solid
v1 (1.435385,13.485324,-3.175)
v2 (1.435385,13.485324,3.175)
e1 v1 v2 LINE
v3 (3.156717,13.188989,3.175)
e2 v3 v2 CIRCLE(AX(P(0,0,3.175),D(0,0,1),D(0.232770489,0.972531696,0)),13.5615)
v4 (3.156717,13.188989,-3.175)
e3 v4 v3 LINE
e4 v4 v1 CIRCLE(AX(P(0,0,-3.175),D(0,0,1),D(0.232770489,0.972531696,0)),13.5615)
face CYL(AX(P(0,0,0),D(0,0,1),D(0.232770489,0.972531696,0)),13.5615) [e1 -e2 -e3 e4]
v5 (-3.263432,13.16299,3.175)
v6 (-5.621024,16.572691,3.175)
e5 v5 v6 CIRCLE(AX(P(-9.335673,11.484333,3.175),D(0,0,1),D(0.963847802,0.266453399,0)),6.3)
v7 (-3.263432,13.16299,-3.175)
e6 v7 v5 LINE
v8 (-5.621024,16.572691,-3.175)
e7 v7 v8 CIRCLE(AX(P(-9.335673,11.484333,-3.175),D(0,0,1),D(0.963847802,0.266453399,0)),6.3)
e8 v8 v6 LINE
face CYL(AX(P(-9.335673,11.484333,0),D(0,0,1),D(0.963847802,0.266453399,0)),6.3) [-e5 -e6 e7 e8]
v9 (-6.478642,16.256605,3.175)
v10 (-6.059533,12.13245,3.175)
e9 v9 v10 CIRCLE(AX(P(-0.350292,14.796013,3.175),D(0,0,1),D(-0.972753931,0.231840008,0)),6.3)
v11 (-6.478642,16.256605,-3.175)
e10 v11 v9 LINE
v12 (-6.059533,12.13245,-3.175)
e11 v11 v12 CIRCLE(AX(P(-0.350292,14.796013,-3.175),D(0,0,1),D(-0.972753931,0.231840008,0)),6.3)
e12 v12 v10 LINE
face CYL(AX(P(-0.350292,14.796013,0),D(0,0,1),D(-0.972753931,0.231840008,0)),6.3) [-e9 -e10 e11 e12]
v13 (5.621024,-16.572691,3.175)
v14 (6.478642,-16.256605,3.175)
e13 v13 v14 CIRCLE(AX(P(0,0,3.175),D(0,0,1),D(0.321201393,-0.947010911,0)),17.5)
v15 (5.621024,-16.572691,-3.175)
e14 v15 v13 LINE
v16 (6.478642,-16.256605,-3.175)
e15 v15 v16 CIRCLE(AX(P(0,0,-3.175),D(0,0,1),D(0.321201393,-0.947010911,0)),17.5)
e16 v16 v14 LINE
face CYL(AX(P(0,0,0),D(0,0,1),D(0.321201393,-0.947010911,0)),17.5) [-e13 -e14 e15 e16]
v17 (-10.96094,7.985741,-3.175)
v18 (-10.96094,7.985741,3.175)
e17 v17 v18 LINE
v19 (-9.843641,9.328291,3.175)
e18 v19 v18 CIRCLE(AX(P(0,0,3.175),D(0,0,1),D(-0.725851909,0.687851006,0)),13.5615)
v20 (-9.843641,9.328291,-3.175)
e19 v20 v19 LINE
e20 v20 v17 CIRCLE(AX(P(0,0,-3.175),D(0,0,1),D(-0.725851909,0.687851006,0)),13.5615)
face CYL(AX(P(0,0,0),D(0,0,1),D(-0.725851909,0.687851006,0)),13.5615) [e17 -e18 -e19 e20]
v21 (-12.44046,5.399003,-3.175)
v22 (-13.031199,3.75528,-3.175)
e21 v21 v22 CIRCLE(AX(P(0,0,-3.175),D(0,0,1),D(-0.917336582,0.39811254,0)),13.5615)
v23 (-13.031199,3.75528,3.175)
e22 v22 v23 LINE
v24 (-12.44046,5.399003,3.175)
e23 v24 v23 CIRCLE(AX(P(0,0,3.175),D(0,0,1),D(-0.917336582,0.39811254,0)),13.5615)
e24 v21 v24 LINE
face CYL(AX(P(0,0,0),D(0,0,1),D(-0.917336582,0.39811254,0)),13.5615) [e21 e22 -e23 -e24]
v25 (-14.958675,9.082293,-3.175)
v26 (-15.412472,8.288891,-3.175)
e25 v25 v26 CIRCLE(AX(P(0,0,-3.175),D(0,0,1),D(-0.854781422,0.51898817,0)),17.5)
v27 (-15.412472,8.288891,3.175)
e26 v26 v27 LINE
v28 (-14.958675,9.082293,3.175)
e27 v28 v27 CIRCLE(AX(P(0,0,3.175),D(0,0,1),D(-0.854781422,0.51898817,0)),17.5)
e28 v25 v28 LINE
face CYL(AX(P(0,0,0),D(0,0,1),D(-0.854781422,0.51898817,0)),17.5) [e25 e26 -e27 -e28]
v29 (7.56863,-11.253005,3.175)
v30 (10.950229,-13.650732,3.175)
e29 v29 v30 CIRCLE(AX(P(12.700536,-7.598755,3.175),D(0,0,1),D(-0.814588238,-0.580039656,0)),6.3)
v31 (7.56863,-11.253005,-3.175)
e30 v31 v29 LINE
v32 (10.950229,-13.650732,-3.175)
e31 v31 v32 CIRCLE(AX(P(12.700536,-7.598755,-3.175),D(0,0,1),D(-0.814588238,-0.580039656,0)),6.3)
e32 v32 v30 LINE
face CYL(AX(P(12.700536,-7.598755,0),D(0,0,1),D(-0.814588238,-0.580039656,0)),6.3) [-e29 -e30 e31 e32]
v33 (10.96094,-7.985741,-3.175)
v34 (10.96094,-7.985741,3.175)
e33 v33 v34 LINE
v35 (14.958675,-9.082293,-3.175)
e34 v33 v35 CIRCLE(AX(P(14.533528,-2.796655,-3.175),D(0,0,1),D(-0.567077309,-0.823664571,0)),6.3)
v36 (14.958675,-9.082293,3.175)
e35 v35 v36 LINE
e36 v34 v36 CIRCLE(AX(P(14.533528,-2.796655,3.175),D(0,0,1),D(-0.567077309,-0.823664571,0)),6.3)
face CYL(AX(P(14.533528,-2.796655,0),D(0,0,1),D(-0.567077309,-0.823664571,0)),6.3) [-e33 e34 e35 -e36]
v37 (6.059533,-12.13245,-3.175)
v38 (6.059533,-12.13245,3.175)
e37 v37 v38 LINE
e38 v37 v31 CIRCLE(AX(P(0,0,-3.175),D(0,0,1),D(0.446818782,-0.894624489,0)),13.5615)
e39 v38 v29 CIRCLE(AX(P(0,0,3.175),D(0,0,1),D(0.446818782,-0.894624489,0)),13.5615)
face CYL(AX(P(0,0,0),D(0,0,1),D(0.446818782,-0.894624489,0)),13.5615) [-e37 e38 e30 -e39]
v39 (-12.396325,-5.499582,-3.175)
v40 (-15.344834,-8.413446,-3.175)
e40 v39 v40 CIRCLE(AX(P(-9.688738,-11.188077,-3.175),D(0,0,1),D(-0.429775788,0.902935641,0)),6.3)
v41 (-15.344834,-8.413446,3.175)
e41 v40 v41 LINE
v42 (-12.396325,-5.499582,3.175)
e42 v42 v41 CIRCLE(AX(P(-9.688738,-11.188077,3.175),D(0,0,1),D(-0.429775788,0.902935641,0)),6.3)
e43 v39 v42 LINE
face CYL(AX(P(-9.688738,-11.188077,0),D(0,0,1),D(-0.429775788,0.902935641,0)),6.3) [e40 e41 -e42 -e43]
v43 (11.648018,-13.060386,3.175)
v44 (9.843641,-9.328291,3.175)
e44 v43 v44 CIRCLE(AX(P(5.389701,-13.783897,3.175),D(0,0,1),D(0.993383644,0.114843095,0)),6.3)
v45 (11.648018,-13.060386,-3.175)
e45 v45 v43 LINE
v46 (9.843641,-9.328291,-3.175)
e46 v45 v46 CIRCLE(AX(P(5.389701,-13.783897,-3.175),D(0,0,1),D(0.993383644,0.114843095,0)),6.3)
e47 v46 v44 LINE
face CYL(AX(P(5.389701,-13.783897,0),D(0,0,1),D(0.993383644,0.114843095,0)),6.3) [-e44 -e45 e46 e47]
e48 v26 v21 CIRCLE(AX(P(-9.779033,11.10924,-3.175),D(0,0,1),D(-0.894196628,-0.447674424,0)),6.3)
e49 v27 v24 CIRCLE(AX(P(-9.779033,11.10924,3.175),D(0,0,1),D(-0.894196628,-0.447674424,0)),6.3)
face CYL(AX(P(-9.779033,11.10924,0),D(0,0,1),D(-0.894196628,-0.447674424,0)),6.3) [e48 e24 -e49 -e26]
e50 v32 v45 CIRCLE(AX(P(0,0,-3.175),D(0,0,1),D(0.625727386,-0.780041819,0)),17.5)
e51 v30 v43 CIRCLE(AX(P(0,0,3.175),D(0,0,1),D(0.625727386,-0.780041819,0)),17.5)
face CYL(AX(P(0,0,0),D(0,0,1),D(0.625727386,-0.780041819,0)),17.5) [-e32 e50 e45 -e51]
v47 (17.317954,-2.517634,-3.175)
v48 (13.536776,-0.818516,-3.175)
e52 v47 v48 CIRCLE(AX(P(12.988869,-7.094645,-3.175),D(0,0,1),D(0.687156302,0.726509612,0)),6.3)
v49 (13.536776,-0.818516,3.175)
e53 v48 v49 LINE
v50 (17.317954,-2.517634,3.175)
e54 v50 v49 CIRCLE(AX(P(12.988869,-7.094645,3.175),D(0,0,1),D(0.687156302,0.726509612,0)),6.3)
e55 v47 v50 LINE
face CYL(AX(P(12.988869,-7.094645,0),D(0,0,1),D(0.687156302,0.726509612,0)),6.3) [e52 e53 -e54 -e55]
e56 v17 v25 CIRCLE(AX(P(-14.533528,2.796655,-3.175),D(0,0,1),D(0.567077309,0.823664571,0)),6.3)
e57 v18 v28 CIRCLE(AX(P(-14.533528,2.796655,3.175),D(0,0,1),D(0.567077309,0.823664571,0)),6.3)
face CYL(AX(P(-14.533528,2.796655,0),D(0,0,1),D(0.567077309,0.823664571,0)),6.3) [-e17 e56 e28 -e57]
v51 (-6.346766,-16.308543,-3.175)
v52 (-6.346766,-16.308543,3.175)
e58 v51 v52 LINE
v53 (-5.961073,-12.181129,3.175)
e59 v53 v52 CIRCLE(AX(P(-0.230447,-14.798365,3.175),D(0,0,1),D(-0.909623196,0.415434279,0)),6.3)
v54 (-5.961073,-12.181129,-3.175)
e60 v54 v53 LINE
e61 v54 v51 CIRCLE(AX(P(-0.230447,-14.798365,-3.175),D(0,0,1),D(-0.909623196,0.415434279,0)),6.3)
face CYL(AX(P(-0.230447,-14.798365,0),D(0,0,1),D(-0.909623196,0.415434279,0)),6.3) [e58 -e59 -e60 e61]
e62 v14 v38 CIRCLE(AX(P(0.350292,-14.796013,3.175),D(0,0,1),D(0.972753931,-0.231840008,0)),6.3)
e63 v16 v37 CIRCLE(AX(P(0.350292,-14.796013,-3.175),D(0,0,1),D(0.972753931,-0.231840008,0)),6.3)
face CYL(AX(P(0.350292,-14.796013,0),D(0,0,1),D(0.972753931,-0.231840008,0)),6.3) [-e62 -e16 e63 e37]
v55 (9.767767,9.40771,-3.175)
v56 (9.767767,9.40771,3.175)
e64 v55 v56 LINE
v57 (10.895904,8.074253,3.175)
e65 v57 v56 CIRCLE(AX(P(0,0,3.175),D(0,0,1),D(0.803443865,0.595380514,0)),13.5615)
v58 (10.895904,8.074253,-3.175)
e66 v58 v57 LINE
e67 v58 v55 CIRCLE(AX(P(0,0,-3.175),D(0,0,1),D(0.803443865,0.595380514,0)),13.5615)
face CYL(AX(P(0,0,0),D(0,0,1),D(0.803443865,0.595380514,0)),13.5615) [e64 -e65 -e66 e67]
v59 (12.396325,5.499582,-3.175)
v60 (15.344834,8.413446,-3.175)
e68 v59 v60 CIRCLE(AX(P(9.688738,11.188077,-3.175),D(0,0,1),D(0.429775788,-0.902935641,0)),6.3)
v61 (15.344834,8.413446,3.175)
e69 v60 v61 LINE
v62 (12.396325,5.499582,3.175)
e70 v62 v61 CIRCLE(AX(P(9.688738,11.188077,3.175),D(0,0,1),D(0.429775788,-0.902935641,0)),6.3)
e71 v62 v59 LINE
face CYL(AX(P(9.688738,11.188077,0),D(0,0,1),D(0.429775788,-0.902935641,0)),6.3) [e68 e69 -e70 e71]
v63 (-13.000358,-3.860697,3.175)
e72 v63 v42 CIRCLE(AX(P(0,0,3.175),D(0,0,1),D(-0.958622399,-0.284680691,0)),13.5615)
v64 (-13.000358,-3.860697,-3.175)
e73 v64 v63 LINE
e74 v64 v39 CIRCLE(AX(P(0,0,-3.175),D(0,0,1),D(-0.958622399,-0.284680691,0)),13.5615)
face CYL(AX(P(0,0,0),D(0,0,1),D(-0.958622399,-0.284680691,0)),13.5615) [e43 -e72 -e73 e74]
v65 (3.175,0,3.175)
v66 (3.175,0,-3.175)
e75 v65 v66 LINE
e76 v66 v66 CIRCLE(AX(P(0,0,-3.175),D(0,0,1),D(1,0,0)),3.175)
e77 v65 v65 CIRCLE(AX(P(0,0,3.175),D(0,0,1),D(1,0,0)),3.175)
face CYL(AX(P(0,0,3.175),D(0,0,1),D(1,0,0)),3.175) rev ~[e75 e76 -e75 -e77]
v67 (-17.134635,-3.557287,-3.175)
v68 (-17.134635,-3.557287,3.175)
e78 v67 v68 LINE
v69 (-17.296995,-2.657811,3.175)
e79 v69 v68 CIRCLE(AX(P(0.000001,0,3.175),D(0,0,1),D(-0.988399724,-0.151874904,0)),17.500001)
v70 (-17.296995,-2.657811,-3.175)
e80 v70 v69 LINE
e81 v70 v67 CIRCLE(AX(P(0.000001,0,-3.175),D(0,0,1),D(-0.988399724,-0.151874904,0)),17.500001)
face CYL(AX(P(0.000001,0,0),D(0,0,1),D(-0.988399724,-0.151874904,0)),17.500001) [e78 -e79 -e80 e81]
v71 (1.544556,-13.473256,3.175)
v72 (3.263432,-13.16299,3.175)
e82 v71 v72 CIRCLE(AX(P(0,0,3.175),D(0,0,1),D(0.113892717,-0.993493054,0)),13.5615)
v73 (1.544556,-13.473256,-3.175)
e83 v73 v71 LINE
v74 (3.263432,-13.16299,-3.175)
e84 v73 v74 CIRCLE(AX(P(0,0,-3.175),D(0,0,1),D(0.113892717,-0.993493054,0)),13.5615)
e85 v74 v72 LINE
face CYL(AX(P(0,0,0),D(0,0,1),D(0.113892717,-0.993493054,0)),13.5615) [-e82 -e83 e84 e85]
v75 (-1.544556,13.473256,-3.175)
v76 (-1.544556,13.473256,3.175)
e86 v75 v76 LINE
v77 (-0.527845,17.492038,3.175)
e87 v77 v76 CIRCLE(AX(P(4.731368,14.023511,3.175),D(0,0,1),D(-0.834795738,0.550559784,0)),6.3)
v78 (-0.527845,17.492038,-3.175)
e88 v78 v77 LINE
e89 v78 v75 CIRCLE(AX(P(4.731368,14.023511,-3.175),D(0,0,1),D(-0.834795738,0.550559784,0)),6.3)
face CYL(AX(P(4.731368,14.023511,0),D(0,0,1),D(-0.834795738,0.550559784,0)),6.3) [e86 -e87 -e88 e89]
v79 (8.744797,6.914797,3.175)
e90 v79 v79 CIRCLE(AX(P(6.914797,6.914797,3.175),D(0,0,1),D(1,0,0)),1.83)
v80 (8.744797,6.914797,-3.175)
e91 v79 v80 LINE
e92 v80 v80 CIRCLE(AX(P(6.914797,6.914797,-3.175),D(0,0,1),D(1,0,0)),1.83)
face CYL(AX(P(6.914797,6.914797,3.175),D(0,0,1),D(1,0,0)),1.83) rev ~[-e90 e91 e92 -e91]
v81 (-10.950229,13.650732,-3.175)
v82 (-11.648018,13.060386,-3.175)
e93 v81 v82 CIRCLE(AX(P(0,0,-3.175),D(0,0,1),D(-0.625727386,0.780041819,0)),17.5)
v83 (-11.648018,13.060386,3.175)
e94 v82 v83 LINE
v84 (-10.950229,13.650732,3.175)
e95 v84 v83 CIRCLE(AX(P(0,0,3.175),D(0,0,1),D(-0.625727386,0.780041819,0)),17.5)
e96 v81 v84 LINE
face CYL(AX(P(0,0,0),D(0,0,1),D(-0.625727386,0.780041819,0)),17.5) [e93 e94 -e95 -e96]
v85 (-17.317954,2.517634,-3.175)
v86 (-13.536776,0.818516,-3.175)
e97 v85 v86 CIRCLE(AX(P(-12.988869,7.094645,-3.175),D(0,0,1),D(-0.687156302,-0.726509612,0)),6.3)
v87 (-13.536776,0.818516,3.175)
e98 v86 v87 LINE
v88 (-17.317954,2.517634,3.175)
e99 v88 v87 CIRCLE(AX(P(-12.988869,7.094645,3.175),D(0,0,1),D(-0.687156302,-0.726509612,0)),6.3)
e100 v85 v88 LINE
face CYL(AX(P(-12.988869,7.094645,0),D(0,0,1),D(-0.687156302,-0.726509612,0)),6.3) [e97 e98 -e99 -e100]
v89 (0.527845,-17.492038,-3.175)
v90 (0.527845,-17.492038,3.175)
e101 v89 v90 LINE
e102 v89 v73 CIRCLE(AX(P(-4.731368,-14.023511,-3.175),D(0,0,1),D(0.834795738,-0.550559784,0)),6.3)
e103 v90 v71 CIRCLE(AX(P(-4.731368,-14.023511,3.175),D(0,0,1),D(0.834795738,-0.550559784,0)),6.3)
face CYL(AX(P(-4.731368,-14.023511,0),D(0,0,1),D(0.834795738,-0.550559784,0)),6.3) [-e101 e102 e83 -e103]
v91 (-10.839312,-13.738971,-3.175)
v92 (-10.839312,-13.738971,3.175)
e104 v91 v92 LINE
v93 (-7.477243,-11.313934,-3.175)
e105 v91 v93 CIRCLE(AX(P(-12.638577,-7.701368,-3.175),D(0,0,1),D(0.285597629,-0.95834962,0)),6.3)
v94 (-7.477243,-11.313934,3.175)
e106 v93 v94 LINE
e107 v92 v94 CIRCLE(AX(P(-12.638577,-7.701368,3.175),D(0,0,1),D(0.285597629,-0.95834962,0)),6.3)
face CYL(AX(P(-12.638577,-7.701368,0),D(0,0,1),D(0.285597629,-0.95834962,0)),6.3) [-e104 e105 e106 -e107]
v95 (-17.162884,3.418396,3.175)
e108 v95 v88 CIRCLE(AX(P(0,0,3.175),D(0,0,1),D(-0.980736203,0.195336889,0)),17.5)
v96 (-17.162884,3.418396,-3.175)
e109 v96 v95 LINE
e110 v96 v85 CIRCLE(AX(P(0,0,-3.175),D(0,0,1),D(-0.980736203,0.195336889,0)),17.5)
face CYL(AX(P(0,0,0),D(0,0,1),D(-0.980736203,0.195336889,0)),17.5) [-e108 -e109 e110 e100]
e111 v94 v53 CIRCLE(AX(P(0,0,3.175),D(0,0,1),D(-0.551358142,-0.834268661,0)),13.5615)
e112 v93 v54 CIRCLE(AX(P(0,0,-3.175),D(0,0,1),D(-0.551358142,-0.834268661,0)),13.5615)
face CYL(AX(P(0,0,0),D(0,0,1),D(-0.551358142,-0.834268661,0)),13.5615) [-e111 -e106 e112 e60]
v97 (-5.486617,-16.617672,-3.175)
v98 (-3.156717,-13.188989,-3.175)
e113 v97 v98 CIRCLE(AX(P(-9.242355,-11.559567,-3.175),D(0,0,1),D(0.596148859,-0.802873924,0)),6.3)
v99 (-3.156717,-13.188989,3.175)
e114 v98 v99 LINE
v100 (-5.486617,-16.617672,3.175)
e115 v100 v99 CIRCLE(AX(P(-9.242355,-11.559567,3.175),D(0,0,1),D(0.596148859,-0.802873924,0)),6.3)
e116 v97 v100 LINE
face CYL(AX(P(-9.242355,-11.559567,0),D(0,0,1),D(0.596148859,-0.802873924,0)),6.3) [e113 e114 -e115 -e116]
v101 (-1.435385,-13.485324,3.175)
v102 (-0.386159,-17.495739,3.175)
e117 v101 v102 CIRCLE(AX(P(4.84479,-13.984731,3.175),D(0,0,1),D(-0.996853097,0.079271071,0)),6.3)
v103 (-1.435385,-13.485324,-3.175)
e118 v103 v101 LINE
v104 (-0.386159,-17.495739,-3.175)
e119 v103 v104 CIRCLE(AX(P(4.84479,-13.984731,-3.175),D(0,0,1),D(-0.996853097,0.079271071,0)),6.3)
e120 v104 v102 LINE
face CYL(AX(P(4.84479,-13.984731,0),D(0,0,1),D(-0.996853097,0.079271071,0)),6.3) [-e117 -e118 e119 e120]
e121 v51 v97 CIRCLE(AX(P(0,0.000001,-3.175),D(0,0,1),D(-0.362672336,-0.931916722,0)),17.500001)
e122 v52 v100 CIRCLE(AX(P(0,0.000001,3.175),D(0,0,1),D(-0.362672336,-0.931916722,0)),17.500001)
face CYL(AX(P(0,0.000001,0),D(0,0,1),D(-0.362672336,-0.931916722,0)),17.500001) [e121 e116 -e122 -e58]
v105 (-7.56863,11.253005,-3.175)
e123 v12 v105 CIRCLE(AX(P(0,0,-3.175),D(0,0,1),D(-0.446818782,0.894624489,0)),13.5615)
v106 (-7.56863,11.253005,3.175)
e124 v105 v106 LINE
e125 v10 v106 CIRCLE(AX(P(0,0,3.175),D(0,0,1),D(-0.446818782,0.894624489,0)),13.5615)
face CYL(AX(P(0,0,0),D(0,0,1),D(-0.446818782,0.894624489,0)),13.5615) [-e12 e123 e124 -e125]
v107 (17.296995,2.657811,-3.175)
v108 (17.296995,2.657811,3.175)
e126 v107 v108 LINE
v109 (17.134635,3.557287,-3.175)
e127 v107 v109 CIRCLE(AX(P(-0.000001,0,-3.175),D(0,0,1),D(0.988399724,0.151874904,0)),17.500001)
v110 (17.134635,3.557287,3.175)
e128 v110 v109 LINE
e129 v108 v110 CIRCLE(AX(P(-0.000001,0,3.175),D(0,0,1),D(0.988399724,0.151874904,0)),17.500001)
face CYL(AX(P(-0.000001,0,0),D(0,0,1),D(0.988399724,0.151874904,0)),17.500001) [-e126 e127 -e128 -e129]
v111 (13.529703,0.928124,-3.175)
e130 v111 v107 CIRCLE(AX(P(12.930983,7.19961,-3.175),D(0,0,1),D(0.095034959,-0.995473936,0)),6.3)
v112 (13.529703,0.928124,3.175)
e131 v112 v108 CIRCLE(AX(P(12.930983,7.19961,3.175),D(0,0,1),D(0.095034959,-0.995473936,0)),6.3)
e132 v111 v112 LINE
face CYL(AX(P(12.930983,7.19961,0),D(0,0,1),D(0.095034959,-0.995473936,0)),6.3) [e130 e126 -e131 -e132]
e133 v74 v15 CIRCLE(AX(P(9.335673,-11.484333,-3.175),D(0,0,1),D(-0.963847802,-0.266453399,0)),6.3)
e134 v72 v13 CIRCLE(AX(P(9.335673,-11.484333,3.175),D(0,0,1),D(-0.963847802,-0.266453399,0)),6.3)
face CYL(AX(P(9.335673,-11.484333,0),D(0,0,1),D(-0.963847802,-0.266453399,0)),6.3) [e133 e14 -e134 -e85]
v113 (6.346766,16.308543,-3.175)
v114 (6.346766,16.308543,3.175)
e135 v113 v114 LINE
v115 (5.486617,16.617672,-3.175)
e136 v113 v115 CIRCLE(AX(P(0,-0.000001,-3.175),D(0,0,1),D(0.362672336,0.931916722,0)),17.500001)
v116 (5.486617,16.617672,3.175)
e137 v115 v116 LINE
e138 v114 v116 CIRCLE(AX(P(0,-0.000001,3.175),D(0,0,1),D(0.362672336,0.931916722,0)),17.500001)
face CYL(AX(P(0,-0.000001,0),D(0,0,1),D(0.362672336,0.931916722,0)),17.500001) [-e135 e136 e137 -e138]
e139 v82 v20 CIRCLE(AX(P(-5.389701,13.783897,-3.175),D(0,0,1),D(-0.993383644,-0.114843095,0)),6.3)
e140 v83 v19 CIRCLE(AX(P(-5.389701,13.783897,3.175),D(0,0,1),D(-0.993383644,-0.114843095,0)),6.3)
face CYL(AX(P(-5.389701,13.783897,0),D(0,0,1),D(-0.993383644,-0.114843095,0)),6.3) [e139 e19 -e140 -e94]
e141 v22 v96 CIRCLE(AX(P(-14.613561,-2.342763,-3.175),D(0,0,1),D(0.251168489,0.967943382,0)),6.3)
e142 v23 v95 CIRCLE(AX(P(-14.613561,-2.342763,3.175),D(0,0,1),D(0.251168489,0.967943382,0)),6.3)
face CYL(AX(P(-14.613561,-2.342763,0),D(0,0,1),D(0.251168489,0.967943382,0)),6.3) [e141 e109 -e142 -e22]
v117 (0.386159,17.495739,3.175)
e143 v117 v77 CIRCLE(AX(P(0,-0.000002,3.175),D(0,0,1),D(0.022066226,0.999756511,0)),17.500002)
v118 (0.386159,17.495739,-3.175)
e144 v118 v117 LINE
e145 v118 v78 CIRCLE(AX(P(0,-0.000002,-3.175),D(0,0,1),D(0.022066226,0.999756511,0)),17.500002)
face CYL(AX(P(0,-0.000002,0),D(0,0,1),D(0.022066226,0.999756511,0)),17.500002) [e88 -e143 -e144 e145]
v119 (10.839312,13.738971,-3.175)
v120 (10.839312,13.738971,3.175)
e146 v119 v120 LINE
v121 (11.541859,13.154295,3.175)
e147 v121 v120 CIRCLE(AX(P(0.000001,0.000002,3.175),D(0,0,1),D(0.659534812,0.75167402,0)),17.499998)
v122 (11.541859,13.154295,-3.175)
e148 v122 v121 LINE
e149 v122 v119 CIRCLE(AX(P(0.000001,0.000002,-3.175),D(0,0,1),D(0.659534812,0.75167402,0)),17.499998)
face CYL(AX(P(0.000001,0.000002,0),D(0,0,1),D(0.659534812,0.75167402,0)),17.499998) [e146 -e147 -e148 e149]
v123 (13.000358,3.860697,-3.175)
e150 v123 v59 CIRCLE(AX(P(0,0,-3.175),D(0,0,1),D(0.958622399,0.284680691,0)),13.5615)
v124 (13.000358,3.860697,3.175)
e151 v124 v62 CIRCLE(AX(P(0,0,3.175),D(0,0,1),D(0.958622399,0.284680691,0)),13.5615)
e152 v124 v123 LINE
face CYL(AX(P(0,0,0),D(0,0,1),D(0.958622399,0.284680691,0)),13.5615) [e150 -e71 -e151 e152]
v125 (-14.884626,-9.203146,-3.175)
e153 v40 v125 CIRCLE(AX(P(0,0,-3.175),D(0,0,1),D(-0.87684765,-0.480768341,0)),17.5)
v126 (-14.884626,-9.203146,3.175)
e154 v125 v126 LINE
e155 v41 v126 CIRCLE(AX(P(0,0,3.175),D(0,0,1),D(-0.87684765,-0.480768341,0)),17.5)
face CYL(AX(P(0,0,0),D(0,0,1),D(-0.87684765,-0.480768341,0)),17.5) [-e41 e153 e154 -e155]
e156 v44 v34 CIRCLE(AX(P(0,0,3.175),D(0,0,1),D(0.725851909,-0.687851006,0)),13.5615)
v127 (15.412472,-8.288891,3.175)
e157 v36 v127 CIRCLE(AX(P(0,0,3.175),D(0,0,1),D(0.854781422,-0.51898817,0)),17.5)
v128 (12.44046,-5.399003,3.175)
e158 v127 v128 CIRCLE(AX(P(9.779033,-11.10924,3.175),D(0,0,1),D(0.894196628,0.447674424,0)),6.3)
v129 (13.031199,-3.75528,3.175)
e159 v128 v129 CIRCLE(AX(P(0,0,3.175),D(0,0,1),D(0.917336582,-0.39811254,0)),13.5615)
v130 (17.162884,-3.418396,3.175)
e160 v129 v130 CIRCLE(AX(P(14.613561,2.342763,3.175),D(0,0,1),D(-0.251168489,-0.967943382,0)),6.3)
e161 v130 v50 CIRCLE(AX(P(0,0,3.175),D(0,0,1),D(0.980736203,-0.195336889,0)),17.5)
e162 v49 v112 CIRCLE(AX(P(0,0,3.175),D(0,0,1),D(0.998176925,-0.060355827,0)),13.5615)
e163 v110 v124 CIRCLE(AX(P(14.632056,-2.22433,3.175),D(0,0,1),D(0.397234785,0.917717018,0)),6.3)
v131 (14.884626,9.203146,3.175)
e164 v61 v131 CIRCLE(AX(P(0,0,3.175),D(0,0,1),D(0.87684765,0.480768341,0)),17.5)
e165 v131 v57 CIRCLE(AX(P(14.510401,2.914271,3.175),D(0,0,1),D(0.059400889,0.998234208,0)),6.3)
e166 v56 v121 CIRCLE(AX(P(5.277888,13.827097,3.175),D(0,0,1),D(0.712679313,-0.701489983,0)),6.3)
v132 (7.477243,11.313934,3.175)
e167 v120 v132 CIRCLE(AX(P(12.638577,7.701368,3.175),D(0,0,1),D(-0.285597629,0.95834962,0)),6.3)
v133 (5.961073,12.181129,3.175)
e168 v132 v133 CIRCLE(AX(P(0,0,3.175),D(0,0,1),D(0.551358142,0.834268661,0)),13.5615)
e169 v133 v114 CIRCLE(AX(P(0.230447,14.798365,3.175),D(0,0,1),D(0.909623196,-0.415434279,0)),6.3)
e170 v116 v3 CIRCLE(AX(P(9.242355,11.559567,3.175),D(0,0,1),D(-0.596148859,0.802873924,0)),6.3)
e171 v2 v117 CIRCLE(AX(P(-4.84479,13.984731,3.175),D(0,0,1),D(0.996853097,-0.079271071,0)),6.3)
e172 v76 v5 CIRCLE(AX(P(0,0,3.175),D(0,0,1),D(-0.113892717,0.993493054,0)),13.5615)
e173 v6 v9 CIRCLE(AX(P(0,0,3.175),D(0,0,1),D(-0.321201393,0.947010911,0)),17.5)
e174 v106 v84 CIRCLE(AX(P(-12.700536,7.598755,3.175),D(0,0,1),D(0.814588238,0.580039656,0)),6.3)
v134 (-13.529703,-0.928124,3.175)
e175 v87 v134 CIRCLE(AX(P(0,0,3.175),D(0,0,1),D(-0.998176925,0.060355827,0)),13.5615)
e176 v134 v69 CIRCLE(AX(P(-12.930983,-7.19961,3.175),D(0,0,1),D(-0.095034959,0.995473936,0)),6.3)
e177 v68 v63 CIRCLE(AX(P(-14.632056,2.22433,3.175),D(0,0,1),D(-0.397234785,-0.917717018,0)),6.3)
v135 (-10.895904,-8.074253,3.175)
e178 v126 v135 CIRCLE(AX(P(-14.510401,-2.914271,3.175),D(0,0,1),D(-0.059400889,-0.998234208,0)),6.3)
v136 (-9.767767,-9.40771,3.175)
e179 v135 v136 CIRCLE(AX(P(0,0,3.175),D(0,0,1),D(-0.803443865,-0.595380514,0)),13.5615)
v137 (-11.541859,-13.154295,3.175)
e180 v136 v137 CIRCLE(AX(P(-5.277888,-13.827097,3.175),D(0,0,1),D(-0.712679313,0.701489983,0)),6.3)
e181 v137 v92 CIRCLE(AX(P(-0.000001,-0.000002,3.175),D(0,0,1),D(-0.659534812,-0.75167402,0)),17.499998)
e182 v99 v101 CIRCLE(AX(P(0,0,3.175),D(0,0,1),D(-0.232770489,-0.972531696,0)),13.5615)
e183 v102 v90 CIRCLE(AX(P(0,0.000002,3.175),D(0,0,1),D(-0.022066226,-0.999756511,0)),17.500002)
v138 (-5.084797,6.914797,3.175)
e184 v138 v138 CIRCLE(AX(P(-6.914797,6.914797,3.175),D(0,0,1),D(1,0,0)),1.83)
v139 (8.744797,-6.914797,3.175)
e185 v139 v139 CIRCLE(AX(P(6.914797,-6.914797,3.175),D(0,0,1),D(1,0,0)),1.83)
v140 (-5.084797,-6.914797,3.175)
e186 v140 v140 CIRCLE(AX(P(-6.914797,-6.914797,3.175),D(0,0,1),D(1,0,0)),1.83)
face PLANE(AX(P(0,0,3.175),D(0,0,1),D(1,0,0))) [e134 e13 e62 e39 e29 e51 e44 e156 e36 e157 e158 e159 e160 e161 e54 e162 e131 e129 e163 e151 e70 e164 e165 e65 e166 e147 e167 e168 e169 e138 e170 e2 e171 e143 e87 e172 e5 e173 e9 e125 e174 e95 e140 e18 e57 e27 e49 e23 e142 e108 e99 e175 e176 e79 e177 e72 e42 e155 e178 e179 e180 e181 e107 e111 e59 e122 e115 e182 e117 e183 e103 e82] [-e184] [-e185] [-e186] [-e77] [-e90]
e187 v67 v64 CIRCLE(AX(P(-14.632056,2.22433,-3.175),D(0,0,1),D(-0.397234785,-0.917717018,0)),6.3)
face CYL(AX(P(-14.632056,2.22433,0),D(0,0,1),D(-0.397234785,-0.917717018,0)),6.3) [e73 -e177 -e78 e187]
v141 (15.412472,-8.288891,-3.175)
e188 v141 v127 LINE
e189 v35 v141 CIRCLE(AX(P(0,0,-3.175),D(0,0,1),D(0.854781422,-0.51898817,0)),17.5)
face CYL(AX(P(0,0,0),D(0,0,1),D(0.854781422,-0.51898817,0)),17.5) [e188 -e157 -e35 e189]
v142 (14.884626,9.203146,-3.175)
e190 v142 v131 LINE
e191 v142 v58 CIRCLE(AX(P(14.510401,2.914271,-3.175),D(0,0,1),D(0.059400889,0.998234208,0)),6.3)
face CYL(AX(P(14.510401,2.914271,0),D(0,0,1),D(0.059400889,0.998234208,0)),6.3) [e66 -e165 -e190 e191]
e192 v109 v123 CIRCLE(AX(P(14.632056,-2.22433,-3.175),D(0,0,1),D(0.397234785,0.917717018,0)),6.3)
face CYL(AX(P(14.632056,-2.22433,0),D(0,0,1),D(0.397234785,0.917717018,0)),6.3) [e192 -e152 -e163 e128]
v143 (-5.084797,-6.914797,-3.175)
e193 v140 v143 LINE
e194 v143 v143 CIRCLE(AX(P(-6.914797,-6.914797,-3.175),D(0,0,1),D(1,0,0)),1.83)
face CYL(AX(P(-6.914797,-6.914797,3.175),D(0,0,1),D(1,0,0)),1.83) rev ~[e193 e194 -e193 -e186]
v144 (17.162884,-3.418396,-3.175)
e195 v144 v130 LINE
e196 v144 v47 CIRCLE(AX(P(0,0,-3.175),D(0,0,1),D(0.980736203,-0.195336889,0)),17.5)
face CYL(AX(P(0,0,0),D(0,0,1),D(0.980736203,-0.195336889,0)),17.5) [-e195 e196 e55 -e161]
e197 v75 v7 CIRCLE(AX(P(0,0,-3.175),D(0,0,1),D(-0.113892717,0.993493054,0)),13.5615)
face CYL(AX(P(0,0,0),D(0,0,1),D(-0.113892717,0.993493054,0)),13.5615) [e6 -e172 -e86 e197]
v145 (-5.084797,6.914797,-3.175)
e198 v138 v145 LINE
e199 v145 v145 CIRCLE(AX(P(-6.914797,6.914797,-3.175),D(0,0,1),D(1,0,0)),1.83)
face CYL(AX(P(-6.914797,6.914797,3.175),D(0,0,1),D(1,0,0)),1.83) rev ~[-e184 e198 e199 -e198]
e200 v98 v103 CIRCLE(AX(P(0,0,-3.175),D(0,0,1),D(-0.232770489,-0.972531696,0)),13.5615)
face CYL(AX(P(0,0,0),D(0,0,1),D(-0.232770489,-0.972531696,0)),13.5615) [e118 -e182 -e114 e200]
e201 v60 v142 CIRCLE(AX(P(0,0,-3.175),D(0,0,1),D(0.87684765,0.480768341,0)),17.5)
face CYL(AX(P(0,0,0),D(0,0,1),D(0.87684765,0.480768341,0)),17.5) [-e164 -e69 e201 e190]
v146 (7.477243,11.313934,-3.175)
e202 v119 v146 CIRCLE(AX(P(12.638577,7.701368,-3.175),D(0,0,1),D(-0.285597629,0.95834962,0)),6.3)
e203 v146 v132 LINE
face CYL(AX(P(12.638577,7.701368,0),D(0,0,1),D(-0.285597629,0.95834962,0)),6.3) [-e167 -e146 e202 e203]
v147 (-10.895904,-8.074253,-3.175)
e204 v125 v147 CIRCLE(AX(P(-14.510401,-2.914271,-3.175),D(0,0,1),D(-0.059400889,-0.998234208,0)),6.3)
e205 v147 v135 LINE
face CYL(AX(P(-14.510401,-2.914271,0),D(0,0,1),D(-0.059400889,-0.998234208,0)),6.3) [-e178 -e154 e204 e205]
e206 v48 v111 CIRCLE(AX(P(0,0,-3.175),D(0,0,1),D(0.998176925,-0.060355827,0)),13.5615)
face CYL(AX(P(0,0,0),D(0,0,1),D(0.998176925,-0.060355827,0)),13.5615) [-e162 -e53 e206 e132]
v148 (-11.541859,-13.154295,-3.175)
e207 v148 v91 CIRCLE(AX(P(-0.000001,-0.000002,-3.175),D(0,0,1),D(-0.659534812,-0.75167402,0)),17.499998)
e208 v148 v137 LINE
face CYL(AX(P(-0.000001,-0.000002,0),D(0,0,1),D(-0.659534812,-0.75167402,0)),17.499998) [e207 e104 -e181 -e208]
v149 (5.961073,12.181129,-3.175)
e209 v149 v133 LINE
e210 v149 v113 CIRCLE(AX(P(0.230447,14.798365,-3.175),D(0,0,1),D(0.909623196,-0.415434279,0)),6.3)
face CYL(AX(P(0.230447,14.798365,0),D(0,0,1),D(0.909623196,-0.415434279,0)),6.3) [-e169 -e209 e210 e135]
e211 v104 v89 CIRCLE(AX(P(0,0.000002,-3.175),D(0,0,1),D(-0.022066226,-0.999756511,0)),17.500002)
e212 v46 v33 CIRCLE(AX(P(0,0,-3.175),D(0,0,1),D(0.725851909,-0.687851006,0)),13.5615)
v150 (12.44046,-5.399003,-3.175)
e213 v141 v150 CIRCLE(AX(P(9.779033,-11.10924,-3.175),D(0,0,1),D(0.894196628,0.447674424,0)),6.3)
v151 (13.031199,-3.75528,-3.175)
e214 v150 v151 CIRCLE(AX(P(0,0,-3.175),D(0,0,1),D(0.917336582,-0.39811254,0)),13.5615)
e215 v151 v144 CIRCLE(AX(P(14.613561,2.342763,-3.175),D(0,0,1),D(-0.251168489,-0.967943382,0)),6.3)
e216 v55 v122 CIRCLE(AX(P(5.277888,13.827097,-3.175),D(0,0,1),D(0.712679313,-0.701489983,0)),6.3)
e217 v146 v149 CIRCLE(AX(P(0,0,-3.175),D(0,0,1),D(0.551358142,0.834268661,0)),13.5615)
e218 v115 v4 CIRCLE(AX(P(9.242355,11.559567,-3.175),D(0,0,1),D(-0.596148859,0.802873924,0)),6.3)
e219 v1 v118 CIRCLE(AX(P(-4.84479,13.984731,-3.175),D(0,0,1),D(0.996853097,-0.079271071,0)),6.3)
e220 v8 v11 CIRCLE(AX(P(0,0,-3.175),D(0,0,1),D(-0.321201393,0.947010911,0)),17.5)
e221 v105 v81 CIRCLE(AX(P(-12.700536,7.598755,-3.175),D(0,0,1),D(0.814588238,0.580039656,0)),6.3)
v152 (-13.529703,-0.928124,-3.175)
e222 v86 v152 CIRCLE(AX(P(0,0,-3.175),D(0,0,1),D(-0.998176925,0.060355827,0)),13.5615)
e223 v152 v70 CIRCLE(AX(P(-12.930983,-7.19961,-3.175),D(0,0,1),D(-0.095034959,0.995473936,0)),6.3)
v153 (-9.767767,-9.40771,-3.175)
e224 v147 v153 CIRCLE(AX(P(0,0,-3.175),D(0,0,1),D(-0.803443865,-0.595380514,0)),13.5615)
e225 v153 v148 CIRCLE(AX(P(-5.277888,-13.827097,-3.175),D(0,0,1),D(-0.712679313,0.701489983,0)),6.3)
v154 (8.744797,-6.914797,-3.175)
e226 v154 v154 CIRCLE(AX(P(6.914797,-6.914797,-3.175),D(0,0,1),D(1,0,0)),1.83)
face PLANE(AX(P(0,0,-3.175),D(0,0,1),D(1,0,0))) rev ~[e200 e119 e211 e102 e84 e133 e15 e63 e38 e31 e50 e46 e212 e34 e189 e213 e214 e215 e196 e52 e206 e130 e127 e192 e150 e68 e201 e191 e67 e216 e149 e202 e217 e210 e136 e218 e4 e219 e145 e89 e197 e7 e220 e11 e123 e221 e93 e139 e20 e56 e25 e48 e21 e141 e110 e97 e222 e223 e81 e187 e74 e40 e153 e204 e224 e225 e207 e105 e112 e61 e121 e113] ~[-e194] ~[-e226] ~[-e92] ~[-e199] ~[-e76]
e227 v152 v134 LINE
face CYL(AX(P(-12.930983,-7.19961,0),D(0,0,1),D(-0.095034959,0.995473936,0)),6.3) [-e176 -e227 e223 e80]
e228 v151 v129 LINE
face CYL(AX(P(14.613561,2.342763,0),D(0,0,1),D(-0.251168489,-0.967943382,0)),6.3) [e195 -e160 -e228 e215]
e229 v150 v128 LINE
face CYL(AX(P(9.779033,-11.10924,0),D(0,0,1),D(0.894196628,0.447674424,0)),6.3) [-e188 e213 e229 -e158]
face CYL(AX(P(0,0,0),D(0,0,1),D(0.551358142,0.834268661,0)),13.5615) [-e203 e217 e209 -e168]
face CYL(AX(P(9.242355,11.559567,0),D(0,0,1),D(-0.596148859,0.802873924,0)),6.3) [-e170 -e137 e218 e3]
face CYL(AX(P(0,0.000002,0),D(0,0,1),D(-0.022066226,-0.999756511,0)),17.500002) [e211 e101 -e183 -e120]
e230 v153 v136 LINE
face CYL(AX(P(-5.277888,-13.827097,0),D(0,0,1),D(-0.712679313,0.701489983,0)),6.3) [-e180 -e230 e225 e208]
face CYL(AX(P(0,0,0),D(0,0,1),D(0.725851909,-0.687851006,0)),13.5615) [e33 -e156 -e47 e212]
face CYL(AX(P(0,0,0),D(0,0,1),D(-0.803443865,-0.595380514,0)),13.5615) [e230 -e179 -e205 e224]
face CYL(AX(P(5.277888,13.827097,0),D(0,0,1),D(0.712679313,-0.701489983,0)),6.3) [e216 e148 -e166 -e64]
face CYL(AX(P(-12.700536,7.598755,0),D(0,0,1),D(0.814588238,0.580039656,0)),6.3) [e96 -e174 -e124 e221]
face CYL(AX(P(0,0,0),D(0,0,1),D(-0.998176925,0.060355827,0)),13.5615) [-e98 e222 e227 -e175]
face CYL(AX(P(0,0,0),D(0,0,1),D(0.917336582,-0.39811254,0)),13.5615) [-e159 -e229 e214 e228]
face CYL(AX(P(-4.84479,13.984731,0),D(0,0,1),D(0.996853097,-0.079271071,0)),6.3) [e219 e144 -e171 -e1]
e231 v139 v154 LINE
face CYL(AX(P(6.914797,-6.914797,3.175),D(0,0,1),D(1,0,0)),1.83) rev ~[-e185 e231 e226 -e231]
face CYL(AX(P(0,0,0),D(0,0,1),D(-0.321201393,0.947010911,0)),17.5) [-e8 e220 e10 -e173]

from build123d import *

# Parameters (mm, degrees)
BOSS_EXTRU_1_DEPTH = 3.175
ESQUISSE2_R        = 3.175
ESQUISSE2_R_2      = 1.83
CUT_EXTRUDE1_DEPTH = 26.426049992


with BuildPart() as part:
    # Esquisse1 → Boss.-Extru.1 (new, symmetric)
    with BuildSketch(Plane.XY):
        with BuildLine():
            ThreePointArc((12.39632517, 5.499582215), (14.117106651, 6.707055833), (15.344833887, 8.413445964))
            ThreePointArc((15.344833887, 8.413445964), (15.119886604, 8.811301214), (14.884626197, 9.203146363))
            ThreePointArc((14.884626197, 9.203146363), (12.79475517, 8.97616501), (10.895903967, 8.074252844))
            ThreePointArc((10.895903967, 8.074252844), (10.353325809, 8.759162457), (9.767767389, 9.407709736))
            ThreePointArc((9.767767389, 9.407709736), (10.97179275, 11.130905713), (11.541859176, 13.154295373))
            ThreePointArc((11.541859176, 13.154295373), (11.194403365, 13.451220514), (10.839311962, 13.73897071))
            ThreePointArc((10.839311962, 13.73897071), (8.953107774, 12.81090002), (7.47724344, 11.313934452))
            ThreePointArc((7.47724344, 11.313934452), (6.733133864, 11.771966302), (5.961072705, 12.18112862))
            ThreePointArc((5.961072705, 12.18112862), (6.503118716, 14.21220409), (6.346765909, 16.308542623))
            ThreePointArc((6.346765909, 16.308542623), (5.918709868, 16.4687241), (5.486616734, 16.617672425))
            ThreePointArc((5.486616734, 16.617672425), (4.031583448, 15.100451419), (3.156717001, 13.18898859))
            ThreePointArc((3.156717001, 13.18898859), (2.300826605, 13.364897275), (1.435384677, 13.485323618))
            ThreePointArc((1.435384677, 13.485323618), (1.25007259, 15.579300904), (0.386159005, 17.495738945))
            ThreePointArc((0.386159005, 17.495738945), (-0.07086739, 17.499856508), (-0.527845446, 17.492037594))
            ThreePointArc((-0.527845446, 17.492037594), (-1.376209343, 15.568665517), (-1.544556096, 13.473256055))
            ThreePointArc((-1.544556096, 13.473256055), (-2.408994299, 13.345824393), (-3.263431928, 13.162989565))
            ThreePointArc((-3.263431928, 13.162989565), (-4.15375074, 15.067304103), (-5.621024374, 16.57269094))
            ThreePointArc((-5.621024374, 16.57269094), (-6.051896994, 16.420247951), (-6.478641676, 16.256604874))
            ThreePointArc((-6.478641676, 16.256604874), (-6.618010975, 14.159068786), (-6.059532932, 12.132449995))
            ThreePointArc((-6.059532932, 12.132449995), (-6.828254938, 11.717048125), (-7.568630479, 11.253004706))
            ThreePointArc((-7.568630479, 11.253004706), (-9.056570428, 12.737968057), (-10.950229256, 13.650731821))
            ThreePointArc((-10.950229256, 13.650731821), (-11.302978505, 13.360115154), (-11.648018105, 13.060385685))
            ThreePointArc((-11.648018105, 13.060385685), (-11.061582813, 11.041679393), (-9.843640668, 9.328291411))
            ThreePointArc((-9.843640668, 9.328291411), (-10.423927257, 8.675022928), (-10.960940493, 7.985741403))
            ThreePointArc((-10.960940493, 7.985741403), (-12.867034061, 8.872245071), (-14.958674882, 9.082292981))
            ThreePointArc((-14.958674882, 9.082292981), (-15.190753994, 8.688555294), (-15.412471643, 8.288891231))
            ThreePointArc((-15.412471643, 8.288891231), (-14.170964512, 6.592500507), (-12.440460063, 5.399003211))
            ThreePointArc((-12.440460063, 5.399003211), (-12.762320108, 4.586661936), (-13.031199317, 3.75527983))
            ThreePointArc((-13.031199317, 3.75527983), (-15.12554349, 3.93639839), (-17.16288355, 3.418395567))
            ThreePointArc((-17.16288355, 3.418395567), (-17.246300359, 2.969027437), (-17.317953638, 2.517634164))
            ThreePointArc((-17.317953638, 2.517634164), (-15.57111875, 1.348168766), (-13.536776372, 0.818515543))
            ThreePointArc((-13.536776372, 0.818515543), (-13.561388802, -0.054918177), (-13.529703184, -0.928123913))
            ThreePointArc((-13.529703184, -0.928123913), (-15.559689144, -1.474236033), (-17.296995165, -2.657810803))
            ThreePointArc((-17.296995165, -2.657810803), (-17.221688373, -3.108608947), (-17.134634839, -3.55728674))
            ThreePointArc((-17.134634839, -3.55728674), (-15.093166261, -4.058772026), (-13.00035767, -3.860697179))
            ThreePointArc((-13.00035767, -3.860697179), (-12.724753862, -4.689874348), (-12.39632517, -5.499582215))
            ThreePointArc((-12.39632517, -5.499582215), (-14.117106651, -6.707055833), (-15.344833887, -8.413445964))
            ThreePointArc((-15.344833887, -8.413445964), (-15.119886604, -8.811301214), (-14.884626197, -9.203146363))
            ThreePointArc((-14.884626197, -9.203146363), (-12.79475517, -8.97616501), (-10.895903967, -8.074252844))
            ThreePointArc((-10.895903967, -8.074252844), (-10.353325809, -8.759162457), (-9.767767389, -9.407709736))
            ThreePointArc((-9.767767389, -9.407709736), (-10.97179275, -11.130905713), (-11.541859176, -13.154295373))
            ThreePointArc((-11.541859176, -13.154295373), (-11.194403365, -13.451220514), (-10.839311962, -13.73897071))
            ThreePointArc((-10.839311962, -13.73897071), (-8.953107774, -12.81090002), (-7.47724344, -11.313934452))
            ThreePointArc((-7.47724344, -11.313934452), (-6.733133864, -11.771966302), (-5.961072705, -12.18112862))
            ThreePointArc((-5.961072705, -12.18112862), (-6.503118716, -14.21220409), (-6.346765909, -16.308542623))
            ThreePointArc((-6.346765909, -16.308542623), (-5.918709868, -16.4687241), (-5.486616734, -16.617672425))
            ThreePointArc((-5.486616734, -16.617672425), (-4.031583448, -15.100451419), (-3.156717001, -13.18898859))
            ThreePointArc((-3.156717001, -13.18898859), (-2.300826605, -13.364897275), (-1.435384677, -13.485323618))
            ThreePointArc((-1.435384677, -13.485323618), (-1.25007259, -15.579300904), (-0.386159005, -17.495738945))
            ThreePointArc((-0.386159005, -17.495738945), (0.07086739, -17.499856508), (0.527845446, -17.492037594))
            ThreePointArc((0.527845446, -17.492037594), (1.376209343, -15.568665517), (1.544556096, -13.473256055))
            ThreePointArc((1.544556096, -13.473256055), (2.408994299, -13.345824393), (3.263431928, -13.162989565))
            ThreePointArc((3.263431928, -13.162989565), (4.15375074, -15.067304103), (5.621024374, -16.57269094))
            ThreePointArc((5.621024374, -16.57269094), (6.051896994, -16.420247951), (6.478641676, -16.256604874))
            ThreePointArc((6.478641676, -16.256604874), (6.618010975, -14.159068786), (6.059532932, -12.132449995))
            ThreePointArc((6.059532932, -12.132449995), (6.828254938, -11.717048125), (7.568630479, -11.253004706))
            ThreePointArc((7.568630479, -11.253004706), (9.056570428, -12.737968057), (10.950229256, -13.650731821))
            ThreePointArc((10.950229256, -13.650731821), (11.302978505, -13.360115154), (11.648018105, -13.060385685))
            ThreePointArc((11.648018105, -13.060385685), (11.061582813, -11.041679393), (9.843640668, -9.328291411))
            ThreePointArc((9.843640668, -9.328291411), (10.423927257, -8.675022928), (10.960940493, -7.985741403))
            ThreePointArc((10.960940493, -7.985741403), (12.867034061, -8.872245071), (14.958674882, -9.082292981))
            ThreePointArc((14.958674882, -9.082292981), (15.190753994, -8.688555294), (15.412471643, -8.288891231))
            ThreePointArc((15.412471643, -8.288891231), (14.170964512, -6.592500507), (12.440460063, -5.399003211))
            ThreePointArc((12.440460063, -5.399003211), (12.762320108, -4.586661936), (13.031199317, -3.75527983))
            ThreePointArc((13.031199317, -3.75527983), (15.12554349, -3.93639839), (17.16288355, -3.418395567))
            ThreePointArc((17.16288355, -3.418395567), (17.246300359, -2.969027437), (17.317953638, -2.517634164))
            ThreePointArc((17.317953638, -2.517634164), (15.57111875, -1.348168766), (13.536776372, -0.818515543))
            ThreePointArc((13.536776372, -0.818515543), (13.561388802, 0.054918177), (13.529703184, 0.928123913))
            ThreePointArc((13.529703184, 0.928123913), (15.559689144, 1.474236033), (17.296995165, 2.657810803))
            ThreePointArc((17.296995165, 2.657810803), (17.221688373, 3.108608947), (17.134634839, 3.55728674))
            ThreePointArc((17.134634839, 3.55728674), (15.093166261, 4.058772026), (13.00035767, 3.860697179))
            ThreePointArc((13.00035767, 3.860697179), (12.724753862, 4.689874348), (12.39632517, 5.499582215))
        make_face()
    extrude(amount=BOSS_EXTRU_1_DEPTH, both=True)

    # Esquisse2 → Cut-Extrude1 (cut, through all)
    with BuildSketch(Plane.XY.offset(3.175)):
        Circle(ESQUISSE2_R)
        with Locations((6.914797213, 6.914797213)):
            Circle(ESQUISSE2_R_2)
        with Locations((6.914797213, -6.914797213)):
            Circle(ESQUISSE2_R_2)
        with Locations((-6.914797213, -6.914797213)):
            Circle(ESQUISSE2_R_2)
        with Locations((-6.914797213, 6.914797213)):
            Circle(ESQUISSE2_R_2)
    extrude(amount=-CUT_EXTRUDE1_DEPTH, mode=Mode.SUBTRACT)


solid = part.part
